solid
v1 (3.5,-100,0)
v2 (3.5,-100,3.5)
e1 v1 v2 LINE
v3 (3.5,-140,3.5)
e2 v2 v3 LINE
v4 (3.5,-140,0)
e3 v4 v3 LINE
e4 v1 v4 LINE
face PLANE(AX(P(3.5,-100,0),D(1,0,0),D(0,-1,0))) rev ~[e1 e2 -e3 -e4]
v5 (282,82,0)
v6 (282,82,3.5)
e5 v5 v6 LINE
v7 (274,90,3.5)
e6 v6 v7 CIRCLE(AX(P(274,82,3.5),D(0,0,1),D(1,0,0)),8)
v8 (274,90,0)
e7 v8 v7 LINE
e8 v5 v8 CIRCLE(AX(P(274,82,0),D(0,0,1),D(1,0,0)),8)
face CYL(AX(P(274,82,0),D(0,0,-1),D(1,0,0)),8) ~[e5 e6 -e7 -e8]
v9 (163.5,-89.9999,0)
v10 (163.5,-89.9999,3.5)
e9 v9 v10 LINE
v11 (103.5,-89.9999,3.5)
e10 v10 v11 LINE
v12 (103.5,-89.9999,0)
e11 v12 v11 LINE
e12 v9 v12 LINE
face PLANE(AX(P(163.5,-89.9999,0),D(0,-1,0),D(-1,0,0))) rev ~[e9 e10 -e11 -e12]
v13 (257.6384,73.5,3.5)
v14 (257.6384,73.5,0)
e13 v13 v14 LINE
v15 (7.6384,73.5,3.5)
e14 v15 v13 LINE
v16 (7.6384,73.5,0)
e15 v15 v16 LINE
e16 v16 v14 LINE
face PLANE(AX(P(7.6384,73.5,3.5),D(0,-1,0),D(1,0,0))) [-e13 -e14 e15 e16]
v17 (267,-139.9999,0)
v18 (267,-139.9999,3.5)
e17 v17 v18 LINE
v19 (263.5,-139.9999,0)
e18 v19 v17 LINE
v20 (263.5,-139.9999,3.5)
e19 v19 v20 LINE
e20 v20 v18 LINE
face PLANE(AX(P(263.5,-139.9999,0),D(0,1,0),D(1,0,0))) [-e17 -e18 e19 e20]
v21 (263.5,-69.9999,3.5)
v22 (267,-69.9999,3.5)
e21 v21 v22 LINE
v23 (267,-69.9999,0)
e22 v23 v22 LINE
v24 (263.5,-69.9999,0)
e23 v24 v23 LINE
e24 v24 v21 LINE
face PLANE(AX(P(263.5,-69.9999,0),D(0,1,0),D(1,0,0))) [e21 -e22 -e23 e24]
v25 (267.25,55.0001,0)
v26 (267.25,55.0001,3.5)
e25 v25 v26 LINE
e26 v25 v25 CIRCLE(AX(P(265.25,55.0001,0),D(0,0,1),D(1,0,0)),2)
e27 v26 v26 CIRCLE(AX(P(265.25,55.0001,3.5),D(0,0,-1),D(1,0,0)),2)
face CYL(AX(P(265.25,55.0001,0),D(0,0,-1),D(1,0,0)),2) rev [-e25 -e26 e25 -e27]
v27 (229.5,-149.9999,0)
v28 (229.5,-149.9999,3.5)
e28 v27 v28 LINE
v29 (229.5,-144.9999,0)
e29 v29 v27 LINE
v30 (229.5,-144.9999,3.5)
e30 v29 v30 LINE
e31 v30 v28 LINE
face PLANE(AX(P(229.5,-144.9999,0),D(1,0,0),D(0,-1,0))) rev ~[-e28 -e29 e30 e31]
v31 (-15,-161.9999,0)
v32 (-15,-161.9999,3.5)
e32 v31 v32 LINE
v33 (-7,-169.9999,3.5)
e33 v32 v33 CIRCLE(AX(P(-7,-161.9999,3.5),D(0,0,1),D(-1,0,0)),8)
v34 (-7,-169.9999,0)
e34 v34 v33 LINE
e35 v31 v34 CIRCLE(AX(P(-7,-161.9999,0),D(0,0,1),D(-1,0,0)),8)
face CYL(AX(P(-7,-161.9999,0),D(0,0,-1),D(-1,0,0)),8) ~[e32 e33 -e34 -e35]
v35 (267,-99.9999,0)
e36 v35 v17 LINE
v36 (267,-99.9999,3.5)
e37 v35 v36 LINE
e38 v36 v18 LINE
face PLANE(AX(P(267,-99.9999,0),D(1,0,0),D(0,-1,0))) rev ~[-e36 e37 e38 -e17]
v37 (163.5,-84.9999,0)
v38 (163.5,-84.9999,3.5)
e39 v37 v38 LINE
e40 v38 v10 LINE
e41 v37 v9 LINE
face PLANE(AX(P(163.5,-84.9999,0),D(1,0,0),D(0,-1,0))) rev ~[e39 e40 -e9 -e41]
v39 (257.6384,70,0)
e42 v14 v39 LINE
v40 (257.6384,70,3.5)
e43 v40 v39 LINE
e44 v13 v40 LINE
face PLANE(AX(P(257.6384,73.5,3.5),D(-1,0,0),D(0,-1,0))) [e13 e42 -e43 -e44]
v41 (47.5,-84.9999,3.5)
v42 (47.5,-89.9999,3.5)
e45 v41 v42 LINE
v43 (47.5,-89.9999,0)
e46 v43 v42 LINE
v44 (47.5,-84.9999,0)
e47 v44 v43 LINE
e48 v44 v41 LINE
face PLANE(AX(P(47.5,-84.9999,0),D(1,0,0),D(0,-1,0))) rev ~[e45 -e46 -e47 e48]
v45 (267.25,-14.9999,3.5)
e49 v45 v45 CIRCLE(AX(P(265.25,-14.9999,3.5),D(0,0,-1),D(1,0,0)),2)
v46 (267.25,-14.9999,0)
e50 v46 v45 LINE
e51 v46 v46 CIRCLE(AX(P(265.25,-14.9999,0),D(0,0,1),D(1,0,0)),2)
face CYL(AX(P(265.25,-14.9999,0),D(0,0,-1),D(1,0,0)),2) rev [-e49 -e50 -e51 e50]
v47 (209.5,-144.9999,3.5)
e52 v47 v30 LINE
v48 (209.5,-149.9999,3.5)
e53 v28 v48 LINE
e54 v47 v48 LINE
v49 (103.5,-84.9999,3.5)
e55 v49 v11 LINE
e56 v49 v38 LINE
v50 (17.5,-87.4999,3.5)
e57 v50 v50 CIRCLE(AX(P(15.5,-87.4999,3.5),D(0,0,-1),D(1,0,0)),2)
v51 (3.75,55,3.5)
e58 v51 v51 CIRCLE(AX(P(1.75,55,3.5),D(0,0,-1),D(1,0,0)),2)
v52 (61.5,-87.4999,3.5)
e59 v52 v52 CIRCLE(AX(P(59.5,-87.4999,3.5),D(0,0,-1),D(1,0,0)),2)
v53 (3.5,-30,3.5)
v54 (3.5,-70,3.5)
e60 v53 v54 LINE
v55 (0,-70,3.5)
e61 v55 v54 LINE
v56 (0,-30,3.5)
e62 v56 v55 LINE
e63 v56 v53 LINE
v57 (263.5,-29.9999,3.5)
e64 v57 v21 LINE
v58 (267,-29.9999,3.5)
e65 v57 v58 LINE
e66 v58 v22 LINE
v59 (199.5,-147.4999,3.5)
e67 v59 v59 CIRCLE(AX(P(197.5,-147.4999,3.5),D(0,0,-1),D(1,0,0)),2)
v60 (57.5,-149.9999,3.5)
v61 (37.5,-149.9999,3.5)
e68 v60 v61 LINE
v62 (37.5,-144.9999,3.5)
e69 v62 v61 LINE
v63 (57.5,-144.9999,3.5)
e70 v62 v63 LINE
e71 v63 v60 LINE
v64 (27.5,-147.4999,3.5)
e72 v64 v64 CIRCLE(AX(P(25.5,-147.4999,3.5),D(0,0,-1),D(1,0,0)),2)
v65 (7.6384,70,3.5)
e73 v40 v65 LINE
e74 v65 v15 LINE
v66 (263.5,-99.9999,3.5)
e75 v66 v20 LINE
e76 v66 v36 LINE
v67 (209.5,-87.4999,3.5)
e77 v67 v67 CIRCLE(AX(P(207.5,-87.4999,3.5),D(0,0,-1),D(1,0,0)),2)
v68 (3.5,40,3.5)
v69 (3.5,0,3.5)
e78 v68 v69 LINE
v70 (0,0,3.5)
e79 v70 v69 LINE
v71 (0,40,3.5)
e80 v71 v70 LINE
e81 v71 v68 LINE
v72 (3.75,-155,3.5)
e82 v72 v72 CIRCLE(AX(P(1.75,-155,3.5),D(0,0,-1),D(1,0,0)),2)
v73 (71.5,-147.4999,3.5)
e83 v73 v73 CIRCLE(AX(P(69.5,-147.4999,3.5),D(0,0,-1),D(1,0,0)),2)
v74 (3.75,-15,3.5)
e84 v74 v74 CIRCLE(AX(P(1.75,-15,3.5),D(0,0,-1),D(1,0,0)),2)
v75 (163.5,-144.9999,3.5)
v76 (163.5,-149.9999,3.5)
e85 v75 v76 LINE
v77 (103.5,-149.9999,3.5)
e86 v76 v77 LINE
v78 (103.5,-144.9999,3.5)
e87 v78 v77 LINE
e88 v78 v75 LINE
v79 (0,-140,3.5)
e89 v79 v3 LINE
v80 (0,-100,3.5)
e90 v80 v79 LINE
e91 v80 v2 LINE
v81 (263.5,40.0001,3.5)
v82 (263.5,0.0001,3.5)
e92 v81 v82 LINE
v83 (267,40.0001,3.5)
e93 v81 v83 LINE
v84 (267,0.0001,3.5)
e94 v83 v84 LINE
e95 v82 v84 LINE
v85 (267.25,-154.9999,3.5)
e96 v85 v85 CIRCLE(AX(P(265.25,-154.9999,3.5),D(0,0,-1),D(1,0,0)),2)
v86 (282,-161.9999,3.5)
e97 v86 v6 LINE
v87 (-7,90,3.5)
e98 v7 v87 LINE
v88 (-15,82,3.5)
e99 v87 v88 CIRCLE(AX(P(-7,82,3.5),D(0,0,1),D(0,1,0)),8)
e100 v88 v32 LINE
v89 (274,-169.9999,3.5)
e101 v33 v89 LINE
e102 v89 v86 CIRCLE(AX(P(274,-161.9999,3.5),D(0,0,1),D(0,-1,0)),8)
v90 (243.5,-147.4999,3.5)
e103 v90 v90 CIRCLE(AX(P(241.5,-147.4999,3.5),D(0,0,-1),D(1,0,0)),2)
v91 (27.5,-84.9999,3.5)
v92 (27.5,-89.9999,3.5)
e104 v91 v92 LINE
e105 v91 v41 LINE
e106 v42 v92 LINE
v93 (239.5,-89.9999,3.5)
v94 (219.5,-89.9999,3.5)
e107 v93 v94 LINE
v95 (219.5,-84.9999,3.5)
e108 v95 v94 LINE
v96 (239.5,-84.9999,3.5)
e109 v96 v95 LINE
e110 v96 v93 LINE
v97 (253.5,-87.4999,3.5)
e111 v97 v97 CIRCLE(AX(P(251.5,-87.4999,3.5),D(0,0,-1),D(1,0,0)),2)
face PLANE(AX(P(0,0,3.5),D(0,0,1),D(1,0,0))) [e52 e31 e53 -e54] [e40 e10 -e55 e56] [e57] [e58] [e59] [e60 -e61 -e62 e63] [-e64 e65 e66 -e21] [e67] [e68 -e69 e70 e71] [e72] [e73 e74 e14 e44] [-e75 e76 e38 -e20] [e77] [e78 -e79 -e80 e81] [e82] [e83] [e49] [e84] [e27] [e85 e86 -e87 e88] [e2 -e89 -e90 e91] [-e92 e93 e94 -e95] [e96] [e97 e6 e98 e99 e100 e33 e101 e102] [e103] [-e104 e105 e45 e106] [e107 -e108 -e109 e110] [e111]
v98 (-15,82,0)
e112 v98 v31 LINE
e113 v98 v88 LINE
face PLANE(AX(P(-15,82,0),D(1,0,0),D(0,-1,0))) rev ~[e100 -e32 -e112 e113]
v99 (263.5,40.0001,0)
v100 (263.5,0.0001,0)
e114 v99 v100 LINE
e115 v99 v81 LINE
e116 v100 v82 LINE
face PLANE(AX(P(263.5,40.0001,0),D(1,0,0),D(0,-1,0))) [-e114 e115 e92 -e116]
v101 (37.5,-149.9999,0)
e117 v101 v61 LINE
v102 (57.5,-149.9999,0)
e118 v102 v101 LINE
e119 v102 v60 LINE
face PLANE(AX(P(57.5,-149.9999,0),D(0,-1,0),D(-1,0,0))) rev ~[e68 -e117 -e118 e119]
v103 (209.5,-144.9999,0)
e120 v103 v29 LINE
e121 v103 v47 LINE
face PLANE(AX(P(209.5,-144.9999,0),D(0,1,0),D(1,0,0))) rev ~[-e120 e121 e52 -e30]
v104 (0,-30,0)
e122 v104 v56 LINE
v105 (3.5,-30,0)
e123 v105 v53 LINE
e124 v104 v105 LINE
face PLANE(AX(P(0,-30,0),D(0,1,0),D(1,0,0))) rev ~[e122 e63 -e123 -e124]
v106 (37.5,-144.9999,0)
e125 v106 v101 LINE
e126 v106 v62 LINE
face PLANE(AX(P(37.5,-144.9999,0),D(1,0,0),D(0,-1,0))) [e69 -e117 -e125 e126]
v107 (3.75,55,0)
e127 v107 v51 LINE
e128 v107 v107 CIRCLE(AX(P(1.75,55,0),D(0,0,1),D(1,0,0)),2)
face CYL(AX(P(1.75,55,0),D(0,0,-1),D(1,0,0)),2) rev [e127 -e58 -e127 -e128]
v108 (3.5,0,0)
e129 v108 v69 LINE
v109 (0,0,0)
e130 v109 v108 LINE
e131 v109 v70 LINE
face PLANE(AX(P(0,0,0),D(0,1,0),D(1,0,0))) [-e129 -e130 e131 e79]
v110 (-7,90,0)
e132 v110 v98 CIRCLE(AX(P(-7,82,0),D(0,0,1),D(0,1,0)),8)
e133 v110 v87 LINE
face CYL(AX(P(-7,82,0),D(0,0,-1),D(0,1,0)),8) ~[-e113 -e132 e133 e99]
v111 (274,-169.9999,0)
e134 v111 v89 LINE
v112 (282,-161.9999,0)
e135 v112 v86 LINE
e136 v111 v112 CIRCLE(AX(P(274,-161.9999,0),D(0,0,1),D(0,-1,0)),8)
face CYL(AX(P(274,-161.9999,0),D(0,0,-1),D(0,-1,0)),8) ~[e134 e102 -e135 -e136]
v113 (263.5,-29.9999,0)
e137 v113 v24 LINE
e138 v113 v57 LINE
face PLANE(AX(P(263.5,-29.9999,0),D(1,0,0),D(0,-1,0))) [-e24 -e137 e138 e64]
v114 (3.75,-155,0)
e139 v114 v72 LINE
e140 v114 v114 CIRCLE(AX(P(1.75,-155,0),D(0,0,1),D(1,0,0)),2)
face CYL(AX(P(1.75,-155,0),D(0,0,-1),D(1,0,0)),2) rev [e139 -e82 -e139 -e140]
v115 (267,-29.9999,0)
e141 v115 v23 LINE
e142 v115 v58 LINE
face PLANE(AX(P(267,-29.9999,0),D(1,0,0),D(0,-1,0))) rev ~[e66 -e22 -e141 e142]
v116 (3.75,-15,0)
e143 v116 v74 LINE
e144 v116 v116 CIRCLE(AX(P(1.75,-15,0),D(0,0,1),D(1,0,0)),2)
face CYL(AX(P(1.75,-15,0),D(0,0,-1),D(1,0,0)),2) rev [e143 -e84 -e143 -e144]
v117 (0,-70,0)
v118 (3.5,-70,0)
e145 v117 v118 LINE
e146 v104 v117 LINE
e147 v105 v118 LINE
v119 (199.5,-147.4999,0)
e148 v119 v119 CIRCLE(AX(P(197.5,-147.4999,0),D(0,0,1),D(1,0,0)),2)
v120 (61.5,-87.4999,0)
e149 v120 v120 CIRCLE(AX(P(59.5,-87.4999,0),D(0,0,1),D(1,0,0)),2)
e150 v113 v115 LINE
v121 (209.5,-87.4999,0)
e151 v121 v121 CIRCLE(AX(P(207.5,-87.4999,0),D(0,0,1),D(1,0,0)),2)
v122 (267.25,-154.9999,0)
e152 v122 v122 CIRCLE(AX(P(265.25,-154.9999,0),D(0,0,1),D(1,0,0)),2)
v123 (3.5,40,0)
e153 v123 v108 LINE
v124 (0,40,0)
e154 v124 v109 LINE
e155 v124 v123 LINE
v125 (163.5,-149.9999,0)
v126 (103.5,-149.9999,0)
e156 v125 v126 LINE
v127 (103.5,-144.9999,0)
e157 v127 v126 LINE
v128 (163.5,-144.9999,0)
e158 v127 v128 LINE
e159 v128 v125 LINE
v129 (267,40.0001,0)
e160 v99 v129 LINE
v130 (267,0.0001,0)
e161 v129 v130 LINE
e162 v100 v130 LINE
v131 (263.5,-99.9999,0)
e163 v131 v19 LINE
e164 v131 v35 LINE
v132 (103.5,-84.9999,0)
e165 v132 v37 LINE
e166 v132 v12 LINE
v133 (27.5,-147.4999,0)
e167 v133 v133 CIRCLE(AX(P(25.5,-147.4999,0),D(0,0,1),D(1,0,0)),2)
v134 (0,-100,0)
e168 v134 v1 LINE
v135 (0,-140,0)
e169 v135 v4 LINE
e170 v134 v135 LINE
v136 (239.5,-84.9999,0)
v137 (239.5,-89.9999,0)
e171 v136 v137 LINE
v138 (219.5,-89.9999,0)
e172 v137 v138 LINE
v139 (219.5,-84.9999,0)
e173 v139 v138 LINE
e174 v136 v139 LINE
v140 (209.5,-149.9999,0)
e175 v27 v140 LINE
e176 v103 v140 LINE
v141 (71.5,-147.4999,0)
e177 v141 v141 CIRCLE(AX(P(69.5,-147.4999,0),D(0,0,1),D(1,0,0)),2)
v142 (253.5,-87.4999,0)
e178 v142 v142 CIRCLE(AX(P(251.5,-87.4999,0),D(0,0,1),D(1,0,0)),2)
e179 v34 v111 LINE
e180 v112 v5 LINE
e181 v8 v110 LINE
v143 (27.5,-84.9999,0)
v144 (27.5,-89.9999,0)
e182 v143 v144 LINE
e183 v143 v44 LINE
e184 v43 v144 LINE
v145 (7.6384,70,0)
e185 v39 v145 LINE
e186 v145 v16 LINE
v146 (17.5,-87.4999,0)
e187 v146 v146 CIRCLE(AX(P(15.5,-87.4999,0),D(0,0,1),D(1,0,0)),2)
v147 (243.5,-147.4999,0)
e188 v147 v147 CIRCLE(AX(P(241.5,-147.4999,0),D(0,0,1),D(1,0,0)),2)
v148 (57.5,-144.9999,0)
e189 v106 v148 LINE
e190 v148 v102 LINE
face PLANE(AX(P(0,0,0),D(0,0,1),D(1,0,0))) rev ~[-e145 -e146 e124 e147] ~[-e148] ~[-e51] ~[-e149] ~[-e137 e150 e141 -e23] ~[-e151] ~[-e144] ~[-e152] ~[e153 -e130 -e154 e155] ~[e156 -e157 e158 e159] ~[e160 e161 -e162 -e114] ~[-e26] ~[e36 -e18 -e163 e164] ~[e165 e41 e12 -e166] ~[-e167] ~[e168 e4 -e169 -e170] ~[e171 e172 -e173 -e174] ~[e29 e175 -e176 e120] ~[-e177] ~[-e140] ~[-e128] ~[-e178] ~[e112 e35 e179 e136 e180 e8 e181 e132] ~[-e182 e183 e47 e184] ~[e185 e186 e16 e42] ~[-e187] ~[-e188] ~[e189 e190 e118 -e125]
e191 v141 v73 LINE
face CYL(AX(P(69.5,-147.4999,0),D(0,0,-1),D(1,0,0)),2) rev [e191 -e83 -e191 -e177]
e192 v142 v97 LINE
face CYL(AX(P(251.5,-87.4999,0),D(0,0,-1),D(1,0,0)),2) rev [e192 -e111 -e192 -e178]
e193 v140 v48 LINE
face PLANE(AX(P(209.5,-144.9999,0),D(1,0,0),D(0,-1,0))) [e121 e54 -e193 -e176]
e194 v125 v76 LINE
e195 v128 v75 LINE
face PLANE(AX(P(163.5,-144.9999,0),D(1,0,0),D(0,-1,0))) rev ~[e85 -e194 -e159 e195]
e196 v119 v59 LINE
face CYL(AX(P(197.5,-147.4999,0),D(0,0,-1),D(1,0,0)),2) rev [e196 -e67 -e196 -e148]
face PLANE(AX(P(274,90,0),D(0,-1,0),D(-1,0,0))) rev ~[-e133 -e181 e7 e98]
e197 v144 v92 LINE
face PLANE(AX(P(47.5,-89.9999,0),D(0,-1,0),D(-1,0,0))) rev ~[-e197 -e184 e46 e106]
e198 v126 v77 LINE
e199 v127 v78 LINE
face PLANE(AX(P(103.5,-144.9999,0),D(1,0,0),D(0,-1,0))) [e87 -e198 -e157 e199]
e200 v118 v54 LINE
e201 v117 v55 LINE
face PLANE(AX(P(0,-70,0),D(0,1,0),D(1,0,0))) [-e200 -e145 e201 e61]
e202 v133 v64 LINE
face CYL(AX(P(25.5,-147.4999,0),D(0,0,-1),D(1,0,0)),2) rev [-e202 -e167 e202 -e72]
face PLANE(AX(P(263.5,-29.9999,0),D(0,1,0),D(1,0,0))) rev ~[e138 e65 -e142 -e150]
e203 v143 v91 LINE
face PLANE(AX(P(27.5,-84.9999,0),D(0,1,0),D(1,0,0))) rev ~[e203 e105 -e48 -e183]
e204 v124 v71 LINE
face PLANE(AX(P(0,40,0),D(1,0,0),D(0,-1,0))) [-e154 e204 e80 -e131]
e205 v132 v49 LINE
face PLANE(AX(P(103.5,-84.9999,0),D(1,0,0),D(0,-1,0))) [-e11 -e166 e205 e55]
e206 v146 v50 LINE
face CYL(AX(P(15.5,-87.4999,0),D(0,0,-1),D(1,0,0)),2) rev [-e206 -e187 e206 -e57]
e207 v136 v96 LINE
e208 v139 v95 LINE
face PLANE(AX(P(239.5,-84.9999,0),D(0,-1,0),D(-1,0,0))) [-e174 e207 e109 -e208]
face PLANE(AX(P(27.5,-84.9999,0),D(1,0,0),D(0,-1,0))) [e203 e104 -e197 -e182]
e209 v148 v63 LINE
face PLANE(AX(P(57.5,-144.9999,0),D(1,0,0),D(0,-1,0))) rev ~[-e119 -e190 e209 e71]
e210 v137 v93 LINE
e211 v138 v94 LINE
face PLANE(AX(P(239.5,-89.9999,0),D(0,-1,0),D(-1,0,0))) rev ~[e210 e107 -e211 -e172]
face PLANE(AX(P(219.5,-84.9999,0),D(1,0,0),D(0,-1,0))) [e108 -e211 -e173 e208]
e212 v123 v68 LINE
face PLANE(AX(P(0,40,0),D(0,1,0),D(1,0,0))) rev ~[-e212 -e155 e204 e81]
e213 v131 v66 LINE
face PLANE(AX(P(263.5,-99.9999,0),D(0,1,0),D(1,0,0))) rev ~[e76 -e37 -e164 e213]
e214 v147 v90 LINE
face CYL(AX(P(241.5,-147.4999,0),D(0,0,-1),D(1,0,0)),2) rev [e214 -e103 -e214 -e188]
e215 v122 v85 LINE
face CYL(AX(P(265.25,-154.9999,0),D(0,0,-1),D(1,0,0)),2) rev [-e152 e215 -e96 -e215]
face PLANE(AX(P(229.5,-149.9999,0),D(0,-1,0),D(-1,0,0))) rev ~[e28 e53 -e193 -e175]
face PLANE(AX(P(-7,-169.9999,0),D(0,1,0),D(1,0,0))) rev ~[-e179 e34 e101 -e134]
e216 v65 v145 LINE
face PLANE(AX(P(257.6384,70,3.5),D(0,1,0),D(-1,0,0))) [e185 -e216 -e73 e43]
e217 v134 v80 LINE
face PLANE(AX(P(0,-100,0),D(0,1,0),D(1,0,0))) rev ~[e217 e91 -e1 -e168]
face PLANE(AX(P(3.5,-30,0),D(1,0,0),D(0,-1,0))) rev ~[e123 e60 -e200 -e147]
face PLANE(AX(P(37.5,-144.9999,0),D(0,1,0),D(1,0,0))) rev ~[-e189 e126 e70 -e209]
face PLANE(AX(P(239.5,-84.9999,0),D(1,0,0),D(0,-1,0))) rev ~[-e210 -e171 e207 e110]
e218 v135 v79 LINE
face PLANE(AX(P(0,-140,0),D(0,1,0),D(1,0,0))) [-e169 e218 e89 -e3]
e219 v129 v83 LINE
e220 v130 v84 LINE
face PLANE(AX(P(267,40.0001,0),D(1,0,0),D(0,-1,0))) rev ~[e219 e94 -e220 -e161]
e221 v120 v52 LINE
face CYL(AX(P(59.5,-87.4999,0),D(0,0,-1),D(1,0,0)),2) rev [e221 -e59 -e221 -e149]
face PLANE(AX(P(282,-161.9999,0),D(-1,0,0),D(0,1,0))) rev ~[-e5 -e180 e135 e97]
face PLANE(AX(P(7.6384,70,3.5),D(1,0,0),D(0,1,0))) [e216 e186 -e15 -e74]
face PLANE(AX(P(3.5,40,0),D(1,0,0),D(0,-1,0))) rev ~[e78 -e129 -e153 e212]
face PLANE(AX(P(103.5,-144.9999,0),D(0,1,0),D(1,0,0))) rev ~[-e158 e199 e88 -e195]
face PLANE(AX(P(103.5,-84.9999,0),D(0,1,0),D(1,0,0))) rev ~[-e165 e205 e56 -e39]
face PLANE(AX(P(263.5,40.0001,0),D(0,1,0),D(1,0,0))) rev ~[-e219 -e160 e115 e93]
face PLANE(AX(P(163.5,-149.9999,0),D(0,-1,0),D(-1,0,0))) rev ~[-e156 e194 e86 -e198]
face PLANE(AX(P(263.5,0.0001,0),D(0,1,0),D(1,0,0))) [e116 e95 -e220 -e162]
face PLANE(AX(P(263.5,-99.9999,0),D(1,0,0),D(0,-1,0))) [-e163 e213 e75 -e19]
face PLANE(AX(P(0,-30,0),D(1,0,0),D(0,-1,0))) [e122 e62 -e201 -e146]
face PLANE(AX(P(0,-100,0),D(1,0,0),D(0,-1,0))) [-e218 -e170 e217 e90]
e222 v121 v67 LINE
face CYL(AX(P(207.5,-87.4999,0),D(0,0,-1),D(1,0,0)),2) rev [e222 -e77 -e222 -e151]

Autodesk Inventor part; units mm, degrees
ref_plane "YZ Plane" through (0, 0, 0) normal (1, 0, 0) x (0, 1, 0)
ref_plane "XZ Plane" through (0, 0, 0) normal (0, 1, 0) x (-1, 0, 0)
ref_plane "XY Plane" through (0, 0, 0) normal (0, 0, 1) x (1, 0, 0)
sketch "Sketch1" plane through (0, 0, 0) normal (0, 0, 1) x (1, 0, 0)
  line L0 (0, 40) -> (0, 0)
  line L1 (0, 40) -> (3.5, 40)
  line L2 (3.5, 40) -> (3.5, 0)
  line L3 (0, 0) -> (3.5, 0)
  line L4 (0, 57) -> (3.5, 57)
  line L5 (3.5, 53) -> (0, 53)
  line L6 (0, -13) -> (3.5, -13)
  line L7 (3.5, -17) -> (0, -17)
  line L8 (0, -30) -> (0, -70)
  line L9 (0, -30) -> (3.5, -30)
  line L10 (3.5, -30) -> (3.5, -70)
  line L11 (0, -70) -> (3.5, -70)
  line L12 (0, -100) -> (0, -140)
  line L13 (3.5, -100) -> (3.5, -140)
  line L14 (0, -100) -> (3.5, -100)
  line L15 (0, -140) -> (3.5, -140)
  line L16 (0, -153) -> (3.5, -153)
  line L17 (3.5, -157) -> (0, -157)
  line L18 (263.5, 57.0001) -> (267, 57.0001)
  line L19 (267, 53.0001) -> (263.5, 53.0001)
  line L20 (263.5, 40.0001) -> (267, 40.0001)
  line L21 (263.5, 40.0001) -> (263.5, 0.0001)
  line L22 (267, 40.0001) -> (267, 0.0001)
  line L23 (263.5, 0.0001) -> (267, 0.0001)
  line L24 (263.5, -12.9999) -> (267, -12.9999)
  line L25 (267, -16.9999) -> (263.5, -16.9999)
  line L26 (263.5, -29.9999) -> (267, -29.9999)
  line L27 (263.5, -29.9999) -> (263.5, -69.9999)
  line L28 (267, -29.9999) -> (267, -69.9999)
  line L29 (263.5, -69.9999) -> (267, -69.9999)
  line L30 (263.5, -99.9999) -> (263.5, -139.9999)
  line L31 (263.5, -99.9999) -> (267, -99.9999)
  line L32 (267, -99.9999) -> (267, -139.9999)
  line L33 (263.5, -139.9999) -> (267, -139.9999)
  line L34 (263.5, -152.9999) -> (267, -152.9999)
  line L35 (267, -156.9999) -> (263.5, -156.9999)
  line L36 (23.5, -149.9999) -> (23.5, -144.9999)
  line L37 (27.5, -144.9999) -> (27.5, -149.9999)
  line L38 (37.5, -144.9999) -> (37.5, -149.9999)
  line L39 (57.5, -144.9999) -> (57.5, -149.9999)
  line L40 (67.5, -149.9999) -> (67.5, -144.9999)
  line L41 (71.5, -144.9999) -> (71.5, -149.9999)
  line L42 (37.5, -144.9999) -> (57.5, -144.9999)
  line L43 (57.5, -149.9999) -> (37.5, -149.9999)
  line L44 (103.5, -144.9999) -> (103.5, -149.9999)
  line L45 (103.5, -144.9999) -> (163.5, -144.9999)
  line L46 (163.5, -149.9999) -> (103.5, -149.9999)
  line L47 (163.5, -144.9999) -> (163.5, -149.9999)
  line L48 (195.5, -149.9999) -> (195.5, -144.9999)
  line L49 (199.5, -144.9999) -> (199.5, -149.9999)
  line L50 (209.5, -144.9999) -> (209.5, -149.9999)
  line L51 (229.5, -144.9999) -> (229.5, -149.9999)
  line L52 (209.5, -144.9999) -> (229.5, -144.9999)
  line L53 (229.5, -149.9999) -> (209.5, -149.9999)
  line L54 (239.5, -149.9999) -> (239.5, -144.9999)
  line L55 (243.5, -144.9999) -> (243.5, -149.9999)
  line L56 (253.5, -84.9999) -> (253.5, -89.9999)
  line L57 (249.5, -89.9999) -> (249.5, -84.9999)
  line L58 (239.5, -84.9999) -> (239.5, -89.9999)
  line L59 (239.5, -84.9999) -> (219.5, -84.9999)
  line L60 (219.5, -84.9999) -> (219.5, -89.9999)
  line L61 (239.5, -89.9999) -> (219.5, -89.9999)
  line L62 (205.5, -89.9999) -> (205.5, -84.9999)
  line L63 (209.5, -84.9999) -> (209.5, -89.9999)
  line L64 (103.5, -84.9999) -> (163.5, -84.9999)
  line L65 (163.5, -89.9999) -> (103.5, -89.9999)
  line L66 (163.5, -84.9999) -> (163.5, -89.9999)
  line L67 (103.5, -84.9999) -> (103.5, -89.9999)
  line L68 (57.5, -89.9999) -> (57.5, -84.9999)
  line L69 (61.5, -84.9999) -> (61.5, -89.9999)
  line L70 (47.5, -84.9999) -> (47.5, -89.9999)
  line L71 (27.5, -84.9999) -> (47.5, -84.9999)
  line L72 (47.5, -89.9999) -> (27.5, -89.9999)
  line L73 (27.5, -84.9999) -> (27.5, -89.9999)
  line L74 (13.5, -89.9999) -> (13.5, -84.9999)
  line L75 (17.5, -84.9999) -> (17.5, -89.9999)
  line L76 (-15, 82) -> (-15, -161.9999)
  arc A0 (-7, 90) -> (-15, 82) centre (-7, 82) ccw
  line L77 (274, 90) -> (-7, 90)
  arc A1 (282, 82) -> (274, 90) centre (274, 82) ccw
  line L78 (282, -161.9999) -> (282, 82)
  arc A2 (-15, -161.9999) -> (-7, -169.9999) centre (-7, -161.9999) ccw
  line L79 (-7, -169.9999) -> (274, -169.9999)
  arc A3 (274, -169.9999) -> (282, -161.9999) centre (274, -161.9999) ccw
  line L80 (1.75, 57) -> (1.75, 53)
  line L81 (1.75, -13) -> (1.75, -17)
  line L82 (1.75, -153) -> (1.75, -157)
  line L83 (23.5, -147.4999) -> (27.5, -147.4999)
  line L84 (67.5, -147.4999) -> (71.5, -147.4999)
  line L85 (195.5, -147.4999) -> (199.5, -147.4999)
  line L86 (239.5, -147.4999) -> (243.5, -147.4999)
  line L87 (265.25, -156.9999) -> (265.25, -152.9999)
  line L88 (13.5, -87.4999) -> (17.5, -87.4999)
  line L89 (57.5, -87.4999) -> (61.5, -87.4999)
  line L90 (205.5, -87.4999) -> (209.5, -87.4999)
  line L91 (249.5, -87.4999) -> (253.5, -87.4999)
  line L92 (265.25, -16.9999) -> (265.25, -12.9999)
  line L93 (265.25, 53.0001) -> (265.25, 57.0001)
  circle A4 centre (1.75, 55) radius 2
  circle A5 centre (1.75, -15) radius 2
  circle A6 centre (1.75, -155) radius 2
  circle A7 centre (25.5, -147.4999) radius 2
  circle A8 centre (69.5, -147.4999) radius 2
  circle A9 centre (197.5, -147.4999) radius 2
  circle A10 centre (241.5, -147.4999) radius 2
  circle A11 centre (265.25, -154.9999) radius 2
  circle A12 centre (15.5, -87.4999) radius 2
  circle A13 centre (59.5, -87.4999) radius 2
  circle A14 centre (207.5, -87.4999) radius 2
  circle A15 centre (251.5, -87.4999) radius 2
  circle A16 centre (265.25, -14.9999) radius 2
  circle A17 centre (265.25, 55.0001) radius 2
extrude "Extrusion1" add sketch "Sketch1" along normal blind 3.5
sketch "Sketch2" plane through (0, 0, 3.5) normal (0, 0, 1) x (1, 0, 0)
  line L0 (163.5, -84.9999) -> (163.5, -89.9999) construction
  line L1 (163.5, -89.9999) -> (103.5, -89.9999) construction
  line L2 (103.5, -89.9999) -> (103.5, -84.9999) construction
  line L3 (103.5, -84.9999) -> (163.5, -84.9999) construction
  line L4 (103.5, -144.9999) -> (163.5, -144.9999) construction
  line L5 (163.5, -144.9999) -> (163.5, -149.9999) construction
  line L6 (163.5, -149.9999) -> (103.5, -149.9999) construction
  line L7 (103.5, -149.9999) -> (103.5, -144.9999) construction
  line L8 (263.5, -99.9999) -> (267, -99.9999) construction
  line L9 (267, -99.9999) -> (267, -139.9999) construction
  line L10 (267, -139.9999) -> (263.5, -139.9999) construction
  line L11 (263.5, -139.9999) -> (263.5, -99.9999) construction
  line L12 (267, -29.9999) -> (267, -69.9999) construction
  line L13 (267, -69.9999) -> (263.5, -69.9999) construction
  line L14 (263.5, -69.9999) -> (263.5, -29.9999) construction
  line L15 (263.5, -29.9999) -> (267, -29.9999) construction
  line L16 (267, 40.0001) -> (267, 0.0001) construction
  line L17 (267, 0.0001) -> (263.5, 0.0001) construction
  line L18 (263.5, 0.0001) -> (263.5, 40.0001) construction
  line L19 (263.5, 40.0001) -> (267, 40.0001) construction
  line L20 (0, -100) -> (3.5, -100) construction
  line L21 (3.5, -100) -> (3.5, -140) construction
  line L22 (3.5, -140) -> (0, -140) construction
  line L23 (0, -140) -> (0, -100) construction
  line L24 (0, -30) -> (3.5, -30) construction
  line L25 (3.5, -30) -> (3.5, -70) construction
  line L26 (3.5, -70) -> (0, -70) construction
  line L27 (0, -70) -> (0, -30) construction
  line L28 (0, 40) -> (3.5, 40) construction
  line L29 (3.5, 40) -> (3.5, 0) construction
  line L30 (3.5, 0) -> (0, 0) construction
  line L31 (0, 0) -> (0, 40) construction
  line L32 (47.5, -89.9999) -> (27.5, -89.9999) construction
  line L33 (27.5, -89.9999) -> (27.5, -84.9999) construction
  line L34 (27.5, -84.9999) -> (47.5, -84.9999) construction
  line L35 (47.5, -84.9999) -> (47.5, -89.9999) construction
  line L36 (239.5, -89.9999) -> (219.5, -89.9999) construction
  line L37 (219.5, -89.9999) -> (219.5, -84.9999) construction
  line L38 (219.5, -84.9999) -> (239.5, -84.9999) construction
  line L39 (239.5, -84.9999) -> (239.5, -89.9999) construction
  line L40 (209.5, -144.9999) -> (229.5, -144.9999) construction
  line L41 (229.5, -144.9999) -> (229.5, -149.9999) construction
  line L42 (229.5, -149.9999) -> (209.5, -149.9999) construction
  line L43 (209.5, -149.9999) -> (209.5, -144.9999) construction
  line L44 (37.5, -144.9999) -> (57.5, -144.9999) construction
  line L45 (57.5, -144.9999) -> (57.5, -149.9999) construction
  line L46 (57.5, -149.9999) -> (37.5, -149.9999) construction
  line L47 (37.5, -149.9999) -> (37.5, -144.9999) construction
  circle A0 centre (265.25, 55.0001) radius 2 construction
  circle A1 centre (265.25, -14.9999) radius 2 construction
  circle A2 centre (251.5, -87.4999) radius 2 construction
  circle A3 centre (207.5, -87.4999) radius 2 construction
  circle A4 centre (59.5, -87.4999) radius 2 construction
  circle A5 centre (15.5, -87.4999) radius 2 construction
  circle A6 centre (265.25, -154.9999) radius 2 construction
  circle A7 centre (241.5, -147.4999) radius 2 construction
  circle A8 centre (197.5, -147.4999) radius 2 construction
  circle A9 centre (69.5, -147.4999) radius 2 construction
  circle A10 centre (25.5, -147.4999) radius 2 construction
  circle A11 centre (1.75, -155) radius 2 construction
  circle A12 centre (1.75, -15) radius 2 construction
  circle A13 centre (1.75, 55) radius 2 construction
  line L48 (-15, 82) -> (-15, -161.9999) construction
  arc A14 (-15, -161.9999) -> (-7, -169.9999) centre (-7, -161.9999) ccw construction
  line L49 (-7, -169.9999) -> (274, -169.9999) construction
  arc A15 (274, -169.9999) -> (282, -161.9999) centre (274, -161.9999) ccw construction
  line L50 (282, -161.9999) -> (282, 82) construction
  arc A16 (282, 82) -> (274, 90) centre (274, 82) ccw construction
  line L51 (274, 90) -> (-7, 90) construction
  arc A17 (-7, 90) -> (-15, 82) centre (-7, 82) ccw construction
  line L52 (-15, 82) -> (-15, 90) construction
  line L53 (-15, 90) -> (-7, 90) construction
  line L54 (-15.8616, 90) -> (7.6384, 90) construction
  line L55 (7.6384, 90) -> (7.6384, 73.5) construction
  line L56 (7.6384, 73.5) -> (-15.8616, 73.5) construction
  line L57 (-15.8616, 73.5) -> (-15.8616, 90) construction
  line L58 (7.6384, 73.5) -> (257.6384, 73.5)
  line L59 (257.6384, 73.5) -> (257.6384, 70)
  line L60 (257.6384, 70) -> (7.6384, 70)
  line L61 (7.6384, 70) -> (7.6384, 73.5)
  dimension "d2" = 23.5
  dimension "d3" = 16.5
  dimension "d4" = 250
  dimension "d5" = 3.5
extrude "Extrusion2" cut sketch "Sketch2" against normal blind 3.5
properties part number "Tapa_Trasera"
